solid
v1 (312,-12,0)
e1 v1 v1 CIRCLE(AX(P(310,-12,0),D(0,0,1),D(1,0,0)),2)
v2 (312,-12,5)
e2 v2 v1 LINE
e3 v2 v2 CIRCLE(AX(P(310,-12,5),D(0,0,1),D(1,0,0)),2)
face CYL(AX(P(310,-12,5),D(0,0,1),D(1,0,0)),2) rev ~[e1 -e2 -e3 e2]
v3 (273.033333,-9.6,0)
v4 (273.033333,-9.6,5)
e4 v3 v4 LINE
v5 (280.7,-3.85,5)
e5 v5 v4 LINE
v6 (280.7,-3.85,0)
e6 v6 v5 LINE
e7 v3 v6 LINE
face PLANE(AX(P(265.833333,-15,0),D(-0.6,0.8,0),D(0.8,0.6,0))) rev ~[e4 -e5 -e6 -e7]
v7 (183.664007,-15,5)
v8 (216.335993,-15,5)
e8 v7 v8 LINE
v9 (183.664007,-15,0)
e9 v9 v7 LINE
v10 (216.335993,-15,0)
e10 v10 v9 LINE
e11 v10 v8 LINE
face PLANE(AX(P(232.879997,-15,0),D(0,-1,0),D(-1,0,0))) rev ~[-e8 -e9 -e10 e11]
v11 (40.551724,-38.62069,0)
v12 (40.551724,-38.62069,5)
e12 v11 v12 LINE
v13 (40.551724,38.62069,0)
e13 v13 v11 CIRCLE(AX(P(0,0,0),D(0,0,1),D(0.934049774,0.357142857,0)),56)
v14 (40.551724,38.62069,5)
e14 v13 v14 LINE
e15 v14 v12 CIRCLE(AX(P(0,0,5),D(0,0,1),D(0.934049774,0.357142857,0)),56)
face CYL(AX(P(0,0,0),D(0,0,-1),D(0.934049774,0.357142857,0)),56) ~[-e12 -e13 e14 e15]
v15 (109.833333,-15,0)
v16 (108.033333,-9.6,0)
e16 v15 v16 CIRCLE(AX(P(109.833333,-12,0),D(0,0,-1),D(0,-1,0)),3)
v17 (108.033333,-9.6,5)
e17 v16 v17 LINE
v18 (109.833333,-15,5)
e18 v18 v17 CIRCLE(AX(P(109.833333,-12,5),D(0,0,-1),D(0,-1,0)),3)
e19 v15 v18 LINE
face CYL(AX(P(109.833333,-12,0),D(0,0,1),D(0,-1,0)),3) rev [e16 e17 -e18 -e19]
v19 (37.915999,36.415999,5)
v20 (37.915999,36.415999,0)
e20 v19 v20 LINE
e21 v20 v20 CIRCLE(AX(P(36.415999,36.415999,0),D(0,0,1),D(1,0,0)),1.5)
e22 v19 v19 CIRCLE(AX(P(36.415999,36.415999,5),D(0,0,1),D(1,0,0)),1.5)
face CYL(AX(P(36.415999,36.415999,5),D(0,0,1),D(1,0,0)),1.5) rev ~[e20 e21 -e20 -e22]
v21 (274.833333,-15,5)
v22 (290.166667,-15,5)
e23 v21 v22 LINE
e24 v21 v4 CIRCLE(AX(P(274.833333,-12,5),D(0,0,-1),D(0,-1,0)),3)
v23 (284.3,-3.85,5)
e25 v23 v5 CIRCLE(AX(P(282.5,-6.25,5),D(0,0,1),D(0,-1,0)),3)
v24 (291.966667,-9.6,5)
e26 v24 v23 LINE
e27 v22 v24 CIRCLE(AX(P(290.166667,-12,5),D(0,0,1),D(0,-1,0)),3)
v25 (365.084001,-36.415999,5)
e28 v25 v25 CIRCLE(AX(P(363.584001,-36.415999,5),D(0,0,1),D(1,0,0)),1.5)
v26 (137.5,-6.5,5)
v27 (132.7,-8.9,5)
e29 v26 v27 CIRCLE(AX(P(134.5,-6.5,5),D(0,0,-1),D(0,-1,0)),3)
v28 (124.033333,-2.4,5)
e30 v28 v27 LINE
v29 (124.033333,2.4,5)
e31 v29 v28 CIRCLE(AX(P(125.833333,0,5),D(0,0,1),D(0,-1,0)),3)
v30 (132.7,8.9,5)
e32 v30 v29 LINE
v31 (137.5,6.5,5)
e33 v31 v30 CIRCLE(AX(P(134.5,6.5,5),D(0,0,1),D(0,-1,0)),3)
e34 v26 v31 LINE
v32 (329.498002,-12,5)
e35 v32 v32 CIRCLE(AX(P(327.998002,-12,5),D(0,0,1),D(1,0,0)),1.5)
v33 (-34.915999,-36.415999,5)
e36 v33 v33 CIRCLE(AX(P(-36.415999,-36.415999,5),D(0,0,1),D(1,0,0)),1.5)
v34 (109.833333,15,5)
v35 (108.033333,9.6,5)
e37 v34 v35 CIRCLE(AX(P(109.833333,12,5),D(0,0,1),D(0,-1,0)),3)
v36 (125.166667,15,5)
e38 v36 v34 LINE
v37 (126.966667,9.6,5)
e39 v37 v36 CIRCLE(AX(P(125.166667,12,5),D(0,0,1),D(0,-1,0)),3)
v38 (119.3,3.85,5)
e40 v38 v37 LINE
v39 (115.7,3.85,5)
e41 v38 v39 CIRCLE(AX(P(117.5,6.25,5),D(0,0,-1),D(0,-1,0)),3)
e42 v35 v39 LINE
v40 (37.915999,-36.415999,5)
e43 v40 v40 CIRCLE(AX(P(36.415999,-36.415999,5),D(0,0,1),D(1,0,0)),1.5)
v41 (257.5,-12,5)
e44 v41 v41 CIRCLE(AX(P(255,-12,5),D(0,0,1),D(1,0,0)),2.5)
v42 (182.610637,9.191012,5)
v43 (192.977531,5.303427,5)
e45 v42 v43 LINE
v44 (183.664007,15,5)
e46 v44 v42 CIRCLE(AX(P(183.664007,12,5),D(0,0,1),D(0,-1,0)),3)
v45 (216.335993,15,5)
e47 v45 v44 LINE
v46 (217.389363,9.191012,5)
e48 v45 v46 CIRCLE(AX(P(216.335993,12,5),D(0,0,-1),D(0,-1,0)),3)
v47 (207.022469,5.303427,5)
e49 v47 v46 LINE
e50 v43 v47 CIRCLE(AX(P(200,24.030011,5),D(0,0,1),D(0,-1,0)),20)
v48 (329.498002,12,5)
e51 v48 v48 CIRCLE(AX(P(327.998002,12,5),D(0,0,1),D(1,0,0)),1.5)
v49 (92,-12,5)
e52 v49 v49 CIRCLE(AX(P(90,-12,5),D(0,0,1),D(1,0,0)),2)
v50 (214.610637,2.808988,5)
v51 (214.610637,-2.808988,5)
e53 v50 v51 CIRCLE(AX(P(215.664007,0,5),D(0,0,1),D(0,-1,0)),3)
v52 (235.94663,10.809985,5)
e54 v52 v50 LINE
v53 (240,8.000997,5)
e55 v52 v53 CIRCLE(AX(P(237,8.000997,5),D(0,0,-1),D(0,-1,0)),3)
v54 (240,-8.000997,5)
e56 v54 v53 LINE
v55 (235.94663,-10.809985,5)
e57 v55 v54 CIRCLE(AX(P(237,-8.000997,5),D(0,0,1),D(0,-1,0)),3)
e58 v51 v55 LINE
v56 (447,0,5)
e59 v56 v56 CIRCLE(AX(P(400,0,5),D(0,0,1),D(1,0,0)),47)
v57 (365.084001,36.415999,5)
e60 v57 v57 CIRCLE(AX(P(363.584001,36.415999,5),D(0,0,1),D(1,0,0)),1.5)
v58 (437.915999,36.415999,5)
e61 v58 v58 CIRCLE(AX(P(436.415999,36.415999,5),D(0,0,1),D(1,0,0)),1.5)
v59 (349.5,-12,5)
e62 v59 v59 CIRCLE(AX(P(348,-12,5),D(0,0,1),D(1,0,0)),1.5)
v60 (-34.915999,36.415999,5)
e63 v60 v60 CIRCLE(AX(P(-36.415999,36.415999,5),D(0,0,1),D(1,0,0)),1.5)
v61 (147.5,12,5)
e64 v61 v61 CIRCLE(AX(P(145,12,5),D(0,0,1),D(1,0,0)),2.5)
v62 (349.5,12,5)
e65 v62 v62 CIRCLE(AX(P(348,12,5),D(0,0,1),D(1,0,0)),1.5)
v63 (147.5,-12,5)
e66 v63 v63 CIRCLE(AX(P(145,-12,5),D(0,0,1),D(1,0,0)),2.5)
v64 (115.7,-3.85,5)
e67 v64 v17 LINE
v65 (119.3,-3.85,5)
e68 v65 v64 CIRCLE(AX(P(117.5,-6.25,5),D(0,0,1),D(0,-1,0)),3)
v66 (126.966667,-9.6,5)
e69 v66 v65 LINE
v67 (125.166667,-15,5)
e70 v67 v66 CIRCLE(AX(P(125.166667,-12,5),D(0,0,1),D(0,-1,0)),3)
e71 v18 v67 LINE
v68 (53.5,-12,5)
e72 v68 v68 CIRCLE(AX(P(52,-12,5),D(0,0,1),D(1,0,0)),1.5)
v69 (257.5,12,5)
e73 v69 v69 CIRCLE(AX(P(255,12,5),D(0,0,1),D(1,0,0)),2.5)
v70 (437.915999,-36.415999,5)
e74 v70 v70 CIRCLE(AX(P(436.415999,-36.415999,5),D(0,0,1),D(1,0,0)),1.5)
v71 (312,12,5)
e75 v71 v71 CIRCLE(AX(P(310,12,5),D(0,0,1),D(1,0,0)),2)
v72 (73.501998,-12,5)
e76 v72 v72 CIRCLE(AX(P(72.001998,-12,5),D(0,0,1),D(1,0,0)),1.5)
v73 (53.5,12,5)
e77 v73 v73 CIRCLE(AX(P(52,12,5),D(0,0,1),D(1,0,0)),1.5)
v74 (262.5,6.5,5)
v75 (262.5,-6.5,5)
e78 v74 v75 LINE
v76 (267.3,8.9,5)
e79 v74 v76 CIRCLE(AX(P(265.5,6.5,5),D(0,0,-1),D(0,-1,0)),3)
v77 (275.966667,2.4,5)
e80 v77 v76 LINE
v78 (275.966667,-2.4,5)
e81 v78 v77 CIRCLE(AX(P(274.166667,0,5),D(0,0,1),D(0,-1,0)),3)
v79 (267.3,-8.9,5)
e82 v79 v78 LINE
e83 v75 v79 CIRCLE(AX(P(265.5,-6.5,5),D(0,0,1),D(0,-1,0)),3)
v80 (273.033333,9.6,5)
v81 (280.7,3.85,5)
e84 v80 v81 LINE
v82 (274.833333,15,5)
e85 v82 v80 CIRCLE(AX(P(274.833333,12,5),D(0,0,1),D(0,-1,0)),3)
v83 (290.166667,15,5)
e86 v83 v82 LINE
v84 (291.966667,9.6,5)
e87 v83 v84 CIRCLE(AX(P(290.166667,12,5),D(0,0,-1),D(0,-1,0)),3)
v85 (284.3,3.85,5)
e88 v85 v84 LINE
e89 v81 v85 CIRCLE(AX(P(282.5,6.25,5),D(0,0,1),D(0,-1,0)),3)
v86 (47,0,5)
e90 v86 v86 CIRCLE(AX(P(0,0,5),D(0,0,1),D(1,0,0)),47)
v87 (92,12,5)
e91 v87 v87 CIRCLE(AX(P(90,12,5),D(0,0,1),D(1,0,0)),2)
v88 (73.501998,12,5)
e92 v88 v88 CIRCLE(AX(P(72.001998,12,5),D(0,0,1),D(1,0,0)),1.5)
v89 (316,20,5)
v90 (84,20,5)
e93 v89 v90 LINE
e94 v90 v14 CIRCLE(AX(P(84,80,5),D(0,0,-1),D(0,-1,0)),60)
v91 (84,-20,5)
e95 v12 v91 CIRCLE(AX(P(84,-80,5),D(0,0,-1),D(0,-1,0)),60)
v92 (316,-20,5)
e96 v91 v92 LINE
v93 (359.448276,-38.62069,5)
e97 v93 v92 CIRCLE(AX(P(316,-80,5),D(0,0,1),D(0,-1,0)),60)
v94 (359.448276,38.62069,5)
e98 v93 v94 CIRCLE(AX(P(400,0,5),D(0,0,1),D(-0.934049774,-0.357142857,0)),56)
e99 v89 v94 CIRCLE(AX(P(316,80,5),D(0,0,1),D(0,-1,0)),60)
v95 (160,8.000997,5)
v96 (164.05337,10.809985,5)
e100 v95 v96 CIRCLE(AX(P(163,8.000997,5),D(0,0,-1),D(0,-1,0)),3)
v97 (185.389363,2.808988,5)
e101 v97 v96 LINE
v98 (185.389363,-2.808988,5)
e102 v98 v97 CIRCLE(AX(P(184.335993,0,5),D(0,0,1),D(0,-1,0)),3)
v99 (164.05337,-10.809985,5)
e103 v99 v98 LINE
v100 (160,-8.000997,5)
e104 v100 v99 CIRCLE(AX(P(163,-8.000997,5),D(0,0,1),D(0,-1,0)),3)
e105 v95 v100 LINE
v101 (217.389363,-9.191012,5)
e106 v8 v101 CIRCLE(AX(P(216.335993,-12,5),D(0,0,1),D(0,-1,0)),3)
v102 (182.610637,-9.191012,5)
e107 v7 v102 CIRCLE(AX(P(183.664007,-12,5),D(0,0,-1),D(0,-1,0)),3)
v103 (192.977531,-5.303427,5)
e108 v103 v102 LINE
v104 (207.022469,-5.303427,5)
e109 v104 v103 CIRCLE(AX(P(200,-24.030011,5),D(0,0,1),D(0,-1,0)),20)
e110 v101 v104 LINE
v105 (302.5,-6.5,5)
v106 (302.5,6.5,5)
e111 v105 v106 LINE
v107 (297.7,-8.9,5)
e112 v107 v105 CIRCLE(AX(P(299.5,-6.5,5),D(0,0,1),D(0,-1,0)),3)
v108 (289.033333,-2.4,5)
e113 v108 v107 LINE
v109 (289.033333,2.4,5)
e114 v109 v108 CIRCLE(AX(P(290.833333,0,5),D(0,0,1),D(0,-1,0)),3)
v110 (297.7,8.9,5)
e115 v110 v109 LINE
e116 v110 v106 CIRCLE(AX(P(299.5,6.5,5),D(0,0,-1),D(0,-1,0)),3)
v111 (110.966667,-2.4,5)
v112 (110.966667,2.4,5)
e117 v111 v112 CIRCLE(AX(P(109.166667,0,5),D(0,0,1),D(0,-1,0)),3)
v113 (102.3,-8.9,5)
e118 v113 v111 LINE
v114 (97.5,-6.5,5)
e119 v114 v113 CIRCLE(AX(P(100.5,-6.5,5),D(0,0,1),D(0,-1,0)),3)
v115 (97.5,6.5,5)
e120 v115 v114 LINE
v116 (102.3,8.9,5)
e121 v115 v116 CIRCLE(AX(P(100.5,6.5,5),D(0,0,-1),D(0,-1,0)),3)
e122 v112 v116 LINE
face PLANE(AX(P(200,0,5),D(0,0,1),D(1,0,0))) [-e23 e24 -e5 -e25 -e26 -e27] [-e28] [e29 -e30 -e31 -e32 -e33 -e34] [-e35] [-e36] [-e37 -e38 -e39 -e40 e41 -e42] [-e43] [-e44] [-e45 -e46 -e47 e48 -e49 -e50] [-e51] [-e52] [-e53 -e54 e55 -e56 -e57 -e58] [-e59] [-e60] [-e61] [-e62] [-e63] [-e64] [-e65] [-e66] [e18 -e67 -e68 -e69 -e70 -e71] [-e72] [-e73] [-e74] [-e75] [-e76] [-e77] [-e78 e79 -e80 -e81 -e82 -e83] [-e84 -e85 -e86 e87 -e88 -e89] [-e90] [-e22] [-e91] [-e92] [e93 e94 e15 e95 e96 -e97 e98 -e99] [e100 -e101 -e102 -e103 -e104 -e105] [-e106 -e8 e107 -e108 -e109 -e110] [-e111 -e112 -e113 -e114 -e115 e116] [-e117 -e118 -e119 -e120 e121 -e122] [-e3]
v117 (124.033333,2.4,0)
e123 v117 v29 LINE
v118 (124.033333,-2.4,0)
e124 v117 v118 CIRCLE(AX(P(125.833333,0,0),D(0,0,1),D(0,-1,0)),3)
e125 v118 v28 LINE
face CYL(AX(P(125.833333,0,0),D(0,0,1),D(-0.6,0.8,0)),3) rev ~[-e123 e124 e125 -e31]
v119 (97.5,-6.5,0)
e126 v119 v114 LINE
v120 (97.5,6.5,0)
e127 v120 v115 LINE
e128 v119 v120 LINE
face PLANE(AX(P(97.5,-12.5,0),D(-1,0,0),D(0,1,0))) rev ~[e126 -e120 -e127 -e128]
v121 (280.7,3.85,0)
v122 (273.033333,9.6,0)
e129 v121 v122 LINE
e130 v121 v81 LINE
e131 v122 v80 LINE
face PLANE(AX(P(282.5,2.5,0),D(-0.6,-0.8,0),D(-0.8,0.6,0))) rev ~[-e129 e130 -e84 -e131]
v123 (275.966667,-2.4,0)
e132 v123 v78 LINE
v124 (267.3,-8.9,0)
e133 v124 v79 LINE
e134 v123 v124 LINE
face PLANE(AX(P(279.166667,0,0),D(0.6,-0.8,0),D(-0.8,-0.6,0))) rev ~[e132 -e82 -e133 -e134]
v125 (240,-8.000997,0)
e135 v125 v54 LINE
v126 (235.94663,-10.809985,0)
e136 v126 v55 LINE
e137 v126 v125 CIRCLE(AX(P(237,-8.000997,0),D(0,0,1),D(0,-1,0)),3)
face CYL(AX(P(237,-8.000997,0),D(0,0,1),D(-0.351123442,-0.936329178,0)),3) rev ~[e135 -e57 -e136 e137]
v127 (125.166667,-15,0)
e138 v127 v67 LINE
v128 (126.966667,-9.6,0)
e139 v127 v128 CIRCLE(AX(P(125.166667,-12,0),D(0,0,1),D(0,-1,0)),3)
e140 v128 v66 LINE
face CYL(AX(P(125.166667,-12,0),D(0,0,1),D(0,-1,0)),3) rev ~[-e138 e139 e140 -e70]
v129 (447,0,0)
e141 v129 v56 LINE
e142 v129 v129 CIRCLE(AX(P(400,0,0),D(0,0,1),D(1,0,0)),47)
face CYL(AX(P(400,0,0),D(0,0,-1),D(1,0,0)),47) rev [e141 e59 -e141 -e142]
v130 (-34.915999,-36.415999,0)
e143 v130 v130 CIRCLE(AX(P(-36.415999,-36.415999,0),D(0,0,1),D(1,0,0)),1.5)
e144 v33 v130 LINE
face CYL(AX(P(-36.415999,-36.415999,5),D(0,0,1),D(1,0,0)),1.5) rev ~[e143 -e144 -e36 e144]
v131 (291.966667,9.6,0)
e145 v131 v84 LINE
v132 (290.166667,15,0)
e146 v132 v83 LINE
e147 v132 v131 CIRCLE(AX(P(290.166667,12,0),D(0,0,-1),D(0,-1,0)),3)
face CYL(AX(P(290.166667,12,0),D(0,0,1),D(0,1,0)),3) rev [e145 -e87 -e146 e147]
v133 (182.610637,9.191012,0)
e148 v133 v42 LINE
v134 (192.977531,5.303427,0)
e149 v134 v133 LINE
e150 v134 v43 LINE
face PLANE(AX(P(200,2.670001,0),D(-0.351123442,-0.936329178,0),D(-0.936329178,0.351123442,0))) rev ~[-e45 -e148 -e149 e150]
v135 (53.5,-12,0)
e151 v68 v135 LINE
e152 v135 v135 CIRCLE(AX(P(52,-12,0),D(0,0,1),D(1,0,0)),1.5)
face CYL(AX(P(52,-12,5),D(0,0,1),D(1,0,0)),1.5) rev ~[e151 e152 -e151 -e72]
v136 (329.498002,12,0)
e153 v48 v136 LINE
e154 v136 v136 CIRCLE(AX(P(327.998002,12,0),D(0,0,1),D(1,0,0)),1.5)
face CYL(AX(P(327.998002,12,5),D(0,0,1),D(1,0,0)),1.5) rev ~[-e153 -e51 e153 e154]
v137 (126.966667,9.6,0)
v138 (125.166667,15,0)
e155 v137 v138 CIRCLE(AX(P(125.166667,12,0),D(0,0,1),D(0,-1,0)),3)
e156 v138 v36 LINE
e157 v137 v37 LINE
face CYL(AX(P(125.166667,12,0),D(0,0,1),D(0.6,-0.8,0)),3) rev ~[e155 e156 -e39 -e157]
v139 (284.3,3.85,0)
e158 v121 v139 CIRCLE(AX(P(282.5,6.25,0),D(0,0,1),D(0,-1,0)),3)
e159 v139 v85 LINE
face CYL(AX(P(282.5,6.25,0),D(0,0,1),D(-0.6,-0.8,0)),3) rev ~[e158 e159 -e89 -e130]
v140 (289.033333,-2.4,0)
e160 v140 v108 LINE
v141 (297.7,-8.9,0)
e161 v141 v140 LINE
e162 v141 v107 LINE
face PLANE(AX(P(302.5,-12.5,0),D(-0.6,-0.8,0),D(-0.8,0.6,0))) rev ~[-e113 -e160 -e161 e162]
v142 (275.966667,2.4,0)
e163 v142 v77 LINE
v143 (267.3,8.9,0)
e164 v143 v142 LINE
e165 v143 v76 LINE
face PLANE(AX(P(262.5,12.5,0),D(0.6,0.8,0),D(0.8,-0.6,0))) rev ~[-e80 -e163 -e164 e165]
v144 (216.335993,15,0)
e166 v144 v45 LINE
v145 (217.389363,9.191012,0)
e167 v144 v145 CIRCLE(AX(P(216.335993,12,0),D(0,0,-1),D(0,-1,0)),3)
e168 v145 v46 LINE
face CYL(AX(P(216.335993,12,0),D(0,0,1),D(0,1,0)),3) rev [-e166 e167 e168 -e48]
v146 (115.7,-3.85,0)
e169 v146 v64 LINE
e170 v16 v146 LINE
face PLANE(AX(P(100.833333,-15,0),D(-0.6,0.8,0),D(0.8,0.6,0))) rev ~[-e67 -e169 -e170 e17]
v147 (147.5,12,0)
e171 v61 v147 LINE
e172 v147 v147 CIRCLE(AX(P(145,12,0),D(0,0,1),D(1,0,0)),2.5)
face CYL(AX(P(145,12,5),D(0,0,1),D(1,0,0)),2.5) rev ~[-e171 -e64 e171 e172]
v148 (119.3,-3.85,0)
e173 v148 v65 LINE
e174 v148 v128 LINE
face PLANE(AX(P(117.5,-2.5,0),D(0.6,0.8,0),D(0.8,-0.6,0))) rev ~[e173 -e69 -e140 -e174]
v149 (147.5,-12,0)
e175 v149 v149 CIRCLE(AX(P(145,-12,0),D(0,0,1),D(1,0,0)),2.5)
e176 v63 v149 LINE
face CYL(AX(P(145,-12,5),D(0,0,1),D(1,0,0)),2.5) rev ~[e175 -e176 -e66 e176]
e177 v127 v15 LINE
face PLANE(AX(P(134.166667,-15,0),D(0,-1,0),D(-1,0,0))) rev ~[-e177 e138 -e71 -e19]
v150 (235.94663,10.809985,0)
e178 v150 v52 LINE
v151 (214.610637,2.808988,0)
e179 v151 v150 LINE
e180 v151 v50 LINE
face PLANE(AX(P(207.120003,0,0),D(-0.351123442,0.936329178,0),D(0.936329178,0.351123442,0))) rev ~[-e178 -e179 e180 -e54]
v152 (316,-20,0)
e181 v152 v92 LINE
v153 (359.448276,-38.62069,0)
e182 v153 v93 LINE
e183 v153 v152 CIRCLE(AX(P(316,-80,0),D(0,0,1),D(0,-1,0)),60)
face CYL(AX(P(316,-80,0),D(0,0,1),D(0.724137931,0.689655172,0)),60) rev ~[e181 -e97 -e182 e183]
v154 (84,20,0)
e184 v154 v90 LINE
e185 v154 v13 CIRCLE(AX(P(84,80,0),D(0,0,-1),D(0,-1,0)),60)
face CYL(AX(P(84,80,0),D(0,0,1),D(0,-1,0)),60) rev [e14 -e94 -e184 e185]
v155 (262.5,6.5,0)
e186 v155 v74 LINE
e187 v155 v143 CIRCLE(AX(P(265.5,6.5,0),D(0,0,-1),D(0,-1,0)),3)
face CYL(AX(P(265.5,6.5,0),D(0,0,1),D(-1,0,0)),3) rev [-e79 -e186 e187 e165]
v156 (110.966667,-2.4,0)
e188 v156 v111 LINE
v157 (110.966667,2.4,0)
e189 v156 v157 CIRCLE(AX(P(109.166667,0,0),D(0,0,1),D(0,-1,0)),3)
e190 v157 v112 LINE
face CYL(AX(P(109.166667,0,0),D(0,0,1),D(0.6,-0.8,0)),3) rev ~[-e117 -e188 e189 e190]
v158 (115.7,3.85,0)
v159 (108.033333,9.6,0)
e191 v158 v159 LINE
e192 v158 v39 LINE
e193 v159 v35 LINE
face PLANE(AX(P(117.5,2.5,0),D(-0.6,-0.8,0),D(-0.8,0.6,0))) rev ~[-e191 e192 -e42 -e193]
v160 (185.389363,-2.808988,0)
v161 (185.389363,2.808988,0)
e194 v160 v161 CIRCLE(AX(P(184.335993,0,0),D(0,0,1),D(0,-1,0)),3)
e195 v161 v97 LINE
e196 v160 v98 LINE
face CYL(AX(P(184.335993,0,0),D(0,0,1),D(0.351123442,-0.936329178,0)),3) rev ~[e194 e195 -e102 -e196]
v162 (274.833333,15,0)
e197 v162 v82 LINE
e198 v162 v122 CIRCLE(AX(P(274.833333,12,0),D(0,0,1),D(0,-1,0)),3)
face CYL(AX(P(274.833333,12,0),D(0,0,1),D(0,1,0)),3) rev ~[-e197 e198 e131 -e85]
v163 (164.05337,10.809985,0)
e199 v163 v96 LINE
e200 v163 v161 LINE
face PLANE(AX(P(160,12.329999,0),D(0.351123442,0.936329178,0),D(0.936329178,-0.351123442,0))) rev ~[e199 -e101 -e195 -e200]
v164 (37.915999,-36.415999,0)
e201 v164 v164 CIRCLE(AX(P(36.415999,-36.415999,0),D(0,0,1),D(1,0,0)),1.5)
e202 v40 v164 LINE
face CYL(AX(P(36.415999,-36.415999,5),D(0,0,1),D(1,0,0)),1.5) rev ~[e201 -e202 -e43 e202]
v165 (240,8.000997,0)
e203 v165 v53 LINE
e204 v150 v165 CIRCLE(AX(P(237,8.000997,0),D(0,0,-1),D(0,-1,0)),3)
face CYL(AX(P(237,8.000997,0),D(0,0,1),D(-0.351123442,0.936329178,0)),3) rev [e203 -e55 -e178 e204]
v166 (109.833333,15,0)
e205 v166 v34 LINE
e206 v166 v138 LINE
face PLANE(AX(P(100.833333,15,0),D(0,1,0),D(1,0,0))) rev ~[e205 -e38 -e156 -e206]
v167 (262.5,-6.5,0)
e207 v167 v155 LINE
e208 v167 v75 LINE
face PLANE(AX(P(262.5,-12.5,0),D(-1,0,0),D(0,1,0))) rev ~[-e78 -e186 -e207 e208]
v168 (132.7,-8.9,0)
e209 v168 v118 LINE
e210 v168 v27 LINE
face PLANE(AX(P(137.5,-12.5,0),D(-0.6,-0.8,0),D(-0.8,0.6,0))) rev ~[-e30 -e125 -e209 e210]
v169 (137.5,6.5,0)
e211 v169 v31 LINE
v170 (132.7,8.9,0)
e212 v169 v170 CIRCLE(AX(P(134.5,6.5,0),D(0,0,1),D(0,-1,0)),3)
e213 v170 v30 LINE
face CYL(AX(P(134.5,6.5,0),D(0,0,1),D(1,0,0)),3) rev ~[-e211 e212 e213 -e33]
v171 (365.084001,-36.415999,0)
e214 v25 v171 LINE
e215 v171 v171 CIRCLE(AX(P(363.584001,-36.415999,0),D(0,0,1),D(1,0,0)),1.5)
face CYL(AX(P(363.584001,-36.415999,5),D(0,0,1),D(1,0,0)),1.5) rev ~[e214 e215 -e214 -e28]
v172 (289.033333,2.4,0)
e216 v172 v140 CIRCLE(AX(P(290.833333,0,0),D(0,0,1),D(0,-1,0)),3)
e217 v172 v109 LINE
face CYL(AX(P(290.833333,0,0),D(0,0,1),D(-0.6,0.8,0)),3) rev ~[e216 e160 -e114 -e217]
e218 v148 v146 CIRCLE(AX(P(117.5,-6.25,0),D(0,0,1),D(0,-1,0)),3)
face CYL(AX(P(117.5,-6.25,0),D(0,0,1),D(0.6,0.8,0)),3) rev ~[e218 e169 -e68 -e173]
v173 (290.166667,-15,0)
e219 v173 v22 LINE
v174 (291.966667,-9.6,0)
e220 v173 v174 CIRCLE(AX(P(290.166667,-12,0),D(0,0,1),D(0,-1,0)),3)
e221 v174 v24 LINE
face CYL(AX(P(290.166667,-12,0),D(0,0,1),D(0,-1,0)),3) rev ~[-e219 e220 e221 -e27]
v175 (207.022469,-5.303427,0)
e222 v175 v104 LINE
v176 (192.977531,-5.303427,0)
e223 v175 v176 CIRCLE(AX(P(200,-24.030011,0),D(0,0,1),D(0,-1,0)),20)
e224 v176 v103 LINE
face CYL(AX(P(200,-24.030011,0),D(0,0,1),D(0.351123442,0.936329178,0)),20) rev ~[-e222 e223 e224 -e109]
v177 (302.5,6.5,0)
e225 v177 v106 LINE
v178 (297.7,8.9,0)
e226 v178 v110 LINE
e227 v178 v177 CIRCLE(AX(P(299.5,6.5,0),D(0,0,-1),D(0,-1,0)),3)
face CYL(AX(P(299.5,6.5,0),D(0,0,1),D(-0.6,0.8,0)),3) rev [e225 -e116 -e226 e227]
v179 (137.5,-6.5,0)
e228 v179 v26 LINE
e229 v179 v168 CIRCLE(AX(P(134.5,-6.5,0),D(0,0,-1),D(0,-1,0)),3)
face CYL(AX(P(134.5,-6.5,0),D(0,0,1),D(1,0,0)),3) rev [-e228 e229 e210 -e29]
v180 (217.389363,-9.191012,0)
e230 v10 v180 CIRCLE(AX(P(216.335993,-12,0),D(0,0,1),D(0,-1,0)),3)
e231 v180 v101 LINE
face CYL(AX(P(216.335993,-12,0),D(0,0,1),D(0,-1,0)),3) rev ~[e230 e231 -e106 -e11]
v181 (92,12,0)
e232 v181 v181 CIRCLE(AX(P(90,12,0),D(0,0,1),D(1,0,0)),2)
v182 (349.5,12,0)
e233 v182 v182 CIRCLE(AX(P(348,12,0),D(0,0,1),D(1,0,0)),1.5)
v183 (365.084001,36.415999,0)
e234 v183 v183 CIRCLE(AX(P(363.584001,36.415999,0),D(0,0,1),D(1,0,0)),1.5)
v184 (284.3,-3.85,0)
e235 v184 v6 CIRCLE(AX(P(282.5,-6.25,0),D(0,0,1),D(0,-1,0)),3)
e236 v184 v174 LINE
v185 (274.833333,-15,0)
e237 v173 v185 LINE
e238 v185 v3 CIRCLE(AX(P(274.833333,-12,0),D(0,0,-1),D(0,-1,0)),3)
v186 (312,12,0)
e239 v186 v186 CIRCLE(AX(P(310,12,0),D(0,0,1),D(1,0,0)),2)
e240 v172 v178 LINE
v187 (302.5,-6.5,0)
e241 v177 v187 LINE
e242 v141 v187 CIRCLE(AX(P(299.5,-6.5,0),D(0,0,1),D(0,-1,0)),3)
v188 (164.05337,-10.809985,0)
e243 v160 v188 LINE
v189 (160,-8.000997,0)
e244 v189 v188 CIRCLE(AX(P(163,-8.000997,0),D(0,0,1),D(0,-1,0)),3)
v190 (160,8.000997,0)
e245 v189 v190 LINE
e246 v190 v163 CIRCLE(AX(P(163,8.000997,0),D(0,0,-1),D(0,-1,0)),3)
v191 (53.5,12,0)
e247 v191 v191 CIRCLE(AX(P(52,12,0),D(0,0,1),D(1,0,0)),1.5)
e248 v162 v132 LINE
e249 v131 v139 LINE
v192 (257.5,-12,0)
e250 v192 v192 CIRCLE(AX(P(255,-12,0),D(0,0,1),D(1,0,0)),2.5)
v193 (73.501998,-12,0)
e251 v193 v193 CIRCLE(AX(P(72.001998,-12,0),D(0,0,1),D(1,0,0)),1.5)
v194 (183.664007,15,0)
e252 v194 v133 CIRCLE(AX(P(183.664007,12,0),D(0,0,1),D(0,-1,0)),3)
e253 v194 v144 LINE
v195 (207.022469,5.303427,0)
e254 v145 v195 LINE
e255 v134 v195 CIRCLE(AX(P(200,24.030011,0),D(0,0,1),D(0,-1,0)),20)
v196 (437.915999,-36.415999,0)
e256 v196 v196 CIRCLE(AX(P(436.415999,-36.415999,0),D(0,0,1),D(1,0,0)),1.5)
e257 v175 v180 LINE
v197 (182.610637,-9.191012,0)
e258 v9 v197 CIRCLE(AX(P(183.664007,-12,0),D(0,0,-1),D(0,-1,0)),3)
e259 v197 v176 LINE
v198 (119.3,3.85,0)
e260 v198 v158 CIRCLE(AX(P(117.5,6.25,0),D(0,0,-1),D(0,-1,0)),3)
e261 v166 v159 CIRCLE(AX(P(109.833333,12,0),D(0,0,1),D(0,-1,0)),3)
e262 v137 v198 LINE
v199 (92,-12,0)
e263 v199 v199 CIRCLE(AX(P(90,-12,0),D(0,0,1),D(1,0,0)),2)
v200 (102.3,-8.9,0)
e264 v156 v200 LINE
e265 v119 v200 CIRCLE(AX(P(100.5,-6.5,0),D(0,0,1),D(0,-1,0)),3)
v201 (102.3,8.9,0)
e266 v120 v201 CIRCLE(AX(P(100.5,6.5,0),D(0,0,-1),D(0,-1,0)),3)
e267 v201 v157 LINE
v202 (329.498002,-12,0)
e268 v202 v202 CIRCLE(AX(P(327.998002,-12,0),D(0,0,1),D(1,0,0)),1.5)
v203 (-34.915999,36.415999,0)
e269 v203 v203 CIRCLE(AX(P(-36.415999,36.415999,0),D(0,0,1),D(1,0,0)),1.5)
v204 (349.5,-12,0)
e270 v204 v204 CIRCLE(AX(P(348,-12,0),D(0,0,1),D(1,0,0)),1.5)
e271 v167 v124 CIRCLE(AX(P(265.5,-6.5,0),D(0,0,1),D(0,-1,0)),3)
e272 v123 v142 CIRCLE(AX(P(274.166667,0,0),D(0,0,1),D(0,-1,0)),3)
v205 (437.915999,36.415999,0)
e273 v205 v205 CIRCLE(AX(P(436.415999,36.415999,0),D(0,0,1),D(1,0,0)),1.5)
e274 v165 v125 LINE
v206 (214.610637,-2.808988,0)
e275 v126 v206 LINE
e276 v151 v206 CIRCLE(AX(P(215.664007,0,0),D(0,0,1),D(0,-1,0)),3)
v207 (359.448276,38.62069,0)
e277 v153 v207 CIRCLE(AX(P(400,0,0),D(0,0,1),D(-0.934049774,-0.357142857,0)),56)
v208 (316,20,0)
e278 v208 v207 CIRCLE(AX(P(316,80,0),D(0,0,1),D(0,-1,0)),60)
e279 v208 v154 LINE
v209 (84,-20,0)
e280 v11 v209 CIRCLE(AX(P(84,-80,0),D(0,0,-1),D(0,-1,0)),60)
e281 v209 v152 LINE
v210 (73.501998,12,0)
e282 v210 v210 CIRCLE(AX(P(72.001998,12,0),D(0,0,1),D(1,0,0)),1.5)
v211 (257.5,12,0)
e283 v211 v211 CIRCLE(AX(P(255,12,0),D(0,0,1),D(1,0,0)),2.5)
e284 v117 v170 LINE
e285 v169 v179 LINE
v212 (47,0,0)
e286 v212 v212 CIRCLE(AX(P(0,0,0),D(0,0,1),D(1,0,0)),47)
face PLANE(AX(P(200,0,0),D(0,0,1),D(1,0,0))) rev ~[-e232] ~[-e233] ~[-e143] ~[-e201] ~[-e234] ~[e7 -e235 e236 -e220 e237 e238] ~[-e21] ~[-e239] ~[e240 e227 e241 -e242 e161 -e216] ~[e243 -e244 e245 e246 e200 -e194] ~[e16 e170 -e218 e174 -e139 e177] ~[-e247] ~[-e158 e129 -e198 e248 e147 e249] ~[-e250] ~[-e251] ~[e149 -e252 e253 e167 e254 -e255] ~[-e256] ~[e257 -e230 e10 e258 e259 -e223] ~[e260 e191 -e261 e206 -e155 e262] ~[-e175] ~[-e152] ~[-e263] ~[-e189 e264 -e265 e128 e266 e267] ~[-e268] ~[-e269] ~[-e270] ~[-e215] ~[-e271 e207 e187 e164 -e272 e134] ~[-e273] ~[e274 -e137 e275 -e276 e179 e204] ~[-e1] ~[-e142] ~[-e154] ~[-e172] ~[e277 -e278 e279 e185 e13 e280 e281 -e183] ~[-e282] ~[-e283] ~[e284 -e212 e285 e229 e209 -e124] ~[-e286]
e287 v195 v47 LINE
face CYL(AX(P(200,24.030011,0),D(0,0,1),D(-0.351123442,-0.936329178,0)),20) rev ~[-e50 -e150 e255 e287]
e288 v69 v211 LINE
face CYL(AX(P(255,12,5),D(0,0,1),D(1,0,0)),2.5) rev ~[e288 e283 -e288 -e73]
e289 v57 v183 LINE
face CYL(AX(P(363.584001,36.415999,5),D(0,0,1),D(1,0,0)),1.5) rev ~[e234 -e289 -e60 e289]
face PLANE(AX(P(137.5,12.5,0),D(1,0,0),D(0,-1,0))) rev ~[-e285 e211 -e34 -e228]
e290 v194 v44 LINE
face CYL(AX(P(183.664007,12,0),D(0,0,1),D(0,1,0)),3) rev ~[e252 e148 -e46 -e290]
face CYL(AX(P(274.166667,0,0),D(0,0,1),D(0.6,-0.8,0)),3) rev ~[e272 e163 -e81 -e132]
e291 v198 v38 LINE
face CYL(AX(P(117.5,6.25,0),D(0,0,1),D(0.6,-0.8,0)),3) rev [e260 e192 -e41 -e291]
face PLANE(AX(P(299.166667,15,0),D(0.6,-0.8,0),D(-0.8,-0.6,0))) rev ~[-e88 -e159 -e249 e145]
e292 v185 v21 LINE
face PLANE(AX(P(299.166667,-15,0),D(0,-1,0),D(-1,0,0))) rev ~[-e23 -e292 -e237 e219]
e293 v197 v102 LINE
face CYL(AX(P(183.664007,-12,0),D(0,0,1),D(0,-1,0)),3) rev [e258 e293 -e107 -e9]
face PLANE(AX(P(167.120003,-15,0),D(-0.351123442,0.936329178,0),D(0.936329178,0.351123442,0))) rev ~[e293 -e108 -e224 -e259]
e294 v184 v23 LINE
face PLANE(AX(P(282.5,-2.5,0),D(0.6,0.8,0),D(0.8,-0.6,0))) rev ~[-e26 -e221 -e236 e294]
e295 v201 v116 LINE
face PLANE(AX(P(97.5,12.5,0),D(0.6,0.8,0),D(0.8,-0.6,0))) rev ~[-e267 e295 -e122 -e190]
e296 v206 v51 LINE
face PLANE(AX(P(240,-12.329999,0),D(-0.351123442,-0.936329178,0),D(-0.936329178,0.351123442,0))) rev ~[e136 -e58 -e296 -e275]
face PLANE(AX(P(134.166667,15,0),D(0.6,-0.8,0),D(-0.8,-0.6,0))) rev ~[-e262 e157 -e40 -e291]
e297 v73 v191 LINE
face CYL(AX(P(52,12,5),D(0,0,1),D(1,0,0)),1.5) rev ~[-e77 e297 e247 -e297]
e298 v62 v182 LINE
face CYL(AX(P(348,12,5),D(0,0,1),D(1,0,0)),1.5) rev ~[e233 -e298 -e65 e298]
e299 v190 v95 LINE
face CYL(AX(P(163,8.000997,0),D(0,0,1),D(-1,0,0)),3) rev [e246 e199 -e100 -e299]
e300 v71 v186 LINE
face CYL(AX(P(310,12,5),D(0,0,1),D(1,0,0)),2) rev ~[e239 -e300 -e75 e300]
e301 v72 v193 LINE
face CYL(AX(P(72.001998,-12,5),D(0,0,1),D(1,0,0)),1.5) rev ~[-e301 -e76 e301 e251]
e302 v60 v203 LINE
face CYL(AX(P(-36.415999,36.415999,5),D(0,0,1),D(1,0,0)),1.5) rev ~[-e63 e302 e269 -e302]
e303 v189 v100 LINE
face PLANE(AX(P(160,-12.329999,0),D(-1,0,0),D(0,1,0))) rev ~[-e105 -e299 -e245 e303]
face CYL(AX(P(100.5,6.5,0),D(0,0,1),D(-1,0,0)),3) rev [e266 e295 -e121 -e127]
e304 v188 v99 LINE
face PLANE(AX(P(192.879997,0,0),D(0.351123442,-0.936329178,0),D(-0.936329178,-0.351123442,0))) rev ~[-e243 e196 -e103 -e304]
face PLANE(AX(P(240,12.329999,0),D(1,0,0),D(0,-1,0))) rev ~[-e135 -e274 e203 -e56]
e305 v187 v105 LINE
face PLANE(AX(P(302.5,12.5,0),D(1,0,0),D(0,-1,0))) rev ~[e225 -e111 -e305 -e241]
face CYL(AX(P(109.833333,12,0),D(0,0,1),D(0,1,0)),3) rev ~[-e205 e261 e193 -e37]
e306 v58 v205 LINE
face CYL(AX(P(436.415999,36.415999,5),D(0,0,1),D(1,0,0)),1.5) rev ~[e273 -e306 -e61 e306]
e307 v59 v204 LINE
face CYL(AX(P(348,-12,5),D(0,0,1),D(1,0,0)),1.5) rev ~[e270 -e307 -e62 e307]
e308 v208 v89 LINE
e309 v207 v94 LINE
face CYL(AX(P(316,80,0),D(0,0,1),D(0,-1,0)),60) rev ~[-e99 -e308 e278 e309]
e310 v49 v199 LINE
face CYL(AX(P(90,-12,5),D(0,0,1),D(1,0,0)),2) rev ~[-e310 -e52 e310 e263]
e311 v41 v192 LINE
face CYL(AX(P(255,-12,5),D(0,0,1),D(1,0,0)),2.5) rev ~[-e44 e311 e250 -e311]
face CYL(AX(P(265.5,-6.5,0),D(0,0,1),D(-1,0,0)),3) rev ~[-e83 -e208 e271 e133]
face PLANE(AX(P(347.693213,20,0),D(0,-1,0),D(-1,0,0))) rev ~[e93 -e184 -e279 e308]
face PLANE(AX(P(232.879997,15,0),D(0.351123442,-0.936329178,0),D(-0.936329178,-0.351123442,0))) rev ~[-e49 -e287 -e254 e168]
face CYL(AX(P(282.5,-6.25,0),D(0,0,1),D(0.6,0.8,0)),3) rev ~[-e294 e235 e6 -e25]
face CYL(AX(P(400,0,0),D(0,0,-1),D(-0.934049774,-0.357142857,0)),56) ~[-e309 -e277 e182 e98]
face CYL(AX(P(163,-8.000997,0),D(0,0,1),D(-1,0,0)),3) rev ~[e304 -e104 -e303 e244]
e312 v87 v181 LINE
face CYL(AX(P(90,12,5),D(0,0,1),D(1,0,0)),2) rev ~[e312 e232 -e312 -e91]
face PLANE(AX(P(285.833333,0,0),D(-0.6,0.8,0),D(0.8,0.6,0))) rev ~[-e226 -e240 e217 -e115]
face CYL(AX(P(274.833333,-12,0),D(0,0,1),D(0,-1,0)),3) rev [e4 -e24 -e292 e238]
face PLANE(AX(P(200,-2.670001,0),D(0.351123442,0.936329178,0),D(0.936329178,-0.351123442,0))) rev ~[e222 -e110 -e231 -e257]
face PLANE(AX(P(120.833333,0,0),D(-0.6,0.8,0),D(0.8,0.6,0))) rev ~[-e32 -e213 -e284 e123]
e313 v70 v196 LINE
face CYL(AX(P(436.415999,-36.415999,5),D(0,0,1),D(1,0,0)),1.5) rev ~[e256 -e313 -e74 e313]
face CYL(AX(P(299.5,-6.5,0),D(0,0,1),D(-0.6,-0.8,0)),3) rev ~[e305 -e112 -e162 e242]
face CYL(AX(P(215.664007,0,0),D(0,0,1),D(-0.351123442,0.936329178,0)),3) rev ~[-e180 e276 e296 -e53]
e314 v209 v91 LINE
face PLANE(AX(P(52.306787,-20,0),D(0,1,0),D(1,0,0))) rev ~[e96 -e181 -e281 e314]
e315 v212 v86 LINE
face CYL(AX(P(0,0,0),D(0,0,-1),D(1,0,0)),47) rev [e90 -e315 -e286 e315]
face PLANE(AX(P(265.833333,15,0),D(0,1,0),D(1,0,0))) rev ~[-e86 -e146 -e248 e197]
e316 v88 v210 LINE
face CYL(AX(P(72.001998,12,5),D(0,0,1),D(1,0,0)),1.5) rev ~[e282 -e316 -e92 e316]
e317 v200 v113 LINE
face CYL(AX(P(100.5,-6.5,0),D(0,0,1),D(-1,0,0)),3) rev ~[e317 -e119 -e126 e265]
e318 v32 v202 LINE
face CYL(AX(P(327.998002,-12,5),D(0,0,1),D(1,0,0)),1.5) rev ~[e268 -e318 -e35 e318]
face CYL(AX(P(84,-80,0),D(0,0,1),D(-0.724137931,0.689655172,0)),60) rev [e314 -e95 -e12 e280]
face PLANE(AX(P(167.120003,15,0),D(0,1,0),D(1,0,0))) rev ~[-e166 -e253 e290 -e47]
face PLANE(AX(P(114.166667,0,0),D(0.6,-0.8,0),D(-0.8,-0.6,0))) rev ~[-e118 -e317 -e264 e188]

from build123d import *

# Parameters (mm, degrees)
SKETCH_1_R           = 47
EXTRUDE_1_DEPTH      = 5
FILLET_1_R           = 60
SKETCH_31_R          = 1.5
CUT_EXTRUDE_14_DEPTH = 5
SKETCH_35_R          = 2.5
SKETCH_35_R_2        = 2
CUT_EXTRUDE_17_DEPTH = 10
CUT_EXTRUDE_18_DEPTH = 10
FILLET_2_R           = 3
FILLET_3_R           = 20
CUT_EXTRUDE_19_DEPTH = 10
SKETCH_39_R          = 1.5
CUT_EXTRUDE_20_DEPTH = 10
FILLET_4_R           = 3


with BuildPart() as part:
    # 草图1 → 凸台-拉伸1 (new body)
    with BuildSketch(Plane.XY):
        with BuildLine():
            Line((347.693212678, 20), (52.306787322, 20))
            ThreePointArc((52.306787322, 20), (-56, 0), (52.306787322, -20))
            Line((52.306787322, -20), (347.693212678, -20))
            ThreePointArc((347.693212678, -20), (456, 0), (347.693212678, 20))
        make_face()
        Circle(SKETCH_1_R, mode=Mode.SUBTRACT)
        with Locations((400, 0)):
            Circle(SKETCH_1_R, mode=Mode.SUBTRACT)
    extrude(amount=EXTRUDE_1_DEPTH)

    # 圆角1
    fillet_1_edges = [part.edges().sort_by_distance(p)[0] for p in [
        (347.693212678, -20, 2.5),
        (52.306787322, -20, 2.5),
        (52.306787322, 20, 2.5),
        (347.693212678, 20, 2.5),
    ]]
    fillet(fillet_1_edges, radius=FILLET_1_R)

    # 草图31 → 切除-拉伸14 (cut)
    with BuildSketch(Plane.XY.offset(5)):
        with Locations((36.415999231, 36.415999231)):
            Circle(SKETCH_31_R)
        with Locations((36.415999231, -36.415999231)):
            Circle(SKETCH_31_R)
        with Locations((-36.415999231, -36.415999231)):
            Circle(SKETCH_31_R)
        with Locations((-36.415999231, 36.415999231)):
            Circle(SKETCH_31_R)
        with Locations((436.415999231, 36.415999231)):
            Circle(SKETCH_31_R)
        with Locations((436.415999231, -36.415999231)):
            Circle(SKETCH_31_R)
        with Locations((363.584000769, -36.415999231)):
            Circle(SKETCH_31_R)
        with Locations((363.584000769, 36.415999231)):
            Circle(SKETCH_31_R)
    extrude(amount=-CUT_EXTRUDE_14_DEPTH, mode=Mode.SUBTRACT)

    # 草图35 → 切除-拉伸17 (cut)
    with BuildSketch(Plane.XY.offset(5)):
        with Locations((145, 12)):
            Circle(SKETCH_35_R)
        with Locations((255, 12)):
            Circle(SKETCH_35_R)
        with Locations((145, -12)):
            Circle(SKETCH_35_R)
        with Locations((255, -12)):
            Circle(SKETCH_35_R)
        with Locations((90, -12)):
            Circle(SKETCH_35_R_2)
        with Locations((90, 12)):
            Circle(SKETCH_35_R_2)
        with Locations((310, -12)):
            Circle(SKETCH_35_R_2)
        with Locations((310, 12)):
            Circle(SKETCH_35_R_2)
    extrude(amount=-CUT_EXTRUDE_17_DEPTH, mode=Mode.SUBTRACT)

    # 草图37 → 切除-拉伸18 (cut)
    with BuildSketch(Plane(origin=(0, 0, 0), x_dir=(-1, 0, 0), z_dir=(0, 0, -1))):
        Polygon((-232.879996879, 15), (-200, 2.67000117), (-167.120003121, 15), align=None)
        Polygon((-160, 12.32999883), (-192.879996879, 0), (-160, -12.32999883), align=None)
        Polygon((-167.120003121, -15), (-200, -2.67000117), (-232.879996879, -15), align=None)
        Polygon((-240, 12.32999883), (-240, -12.32999883), (-207.120003121, 0), align=None)
    extrude(amount=-CUT_EXTRUDE_18_DEPTH, mode=Mode.SUBTRACT)

    # 圆角2
    fillet_2_edges = [part.edges().sort_by_distance(p)[0] for p in [
        (167.120003121, -15, 2.5),
        (232.879996879, -15, 2.5),
        (192.879996879, 0, 2.5),
        (160, 12.32999883, 2.5),
        (160, -12.32999883, 2.5),
        (240, 12.32999883, 2.5),
        (207.120003121, 0, 2.5),
        (240, -12.32999883, 2.5),
        (232.879996879, 15, 2.5),
        (167.120003121, 15, 2.5),
    ]]
    fillet(fillet_2_edges, radius=FILLET_2_R)

    # 圆角3
    fillet_3_edges = [part.edges().sort_by_distance(p)[0] for p in [
        (200, -2.67000117, 2.5),
        (200, 2.67000117, 2.5),
    ]]
    fillet(fillet_3_edges, radius=FILLET_3_R)

    # 草图38 → 切除-拉伸19 (cut)
    with BuildSketch(Plane(origin=(0, 0, 0), x_dir=(-1, 0, 0), z_dir=(0, 0, -1))):
        Polygon((-302.5, 12.5), (-302.5, -12.5), (-285.833333333, 0), align=None)
        Polygon((-262.5, 12.5), (-279.166666667, 0), (-262.5, -12.5), align=None)
        Polygon((-265.833333333, -15), (-282.5, -2.5), (-299.166666667, -15), align=None)
        Polygon((-299.166666667, 15), (-282.5, 2.5), (-265.833333333, 15), align=None)
        Polygon((-100.833333333, -15), (-117.5, -2.5), (-134.166666667, -15), align=None)
        Polygon((-97.5, 12.5), (-114.166666667, 0), (-97.5, -12.5), align=None)
        Polygon((-117.5, 2.5), (-100.833333333, 15), (-134.166666667, 15), align=None)
        Polygon((-137.5, -12.5), (-120.833333333, 0), (-137.5, 12.5), align=None)
    extrude(amount=-CUT_EXTRUDE_19_DEPTH, mode=Mode.SUBTRACT)

    # 草图39 → 切除-拉伸20 (cut)
    with BuildSketch(Plane.XY.offset(5)):
        with Locations((72.001998462, -12)):
            Circle(SKETCH_39_R)
        with Locations((52, -12)):
            Circle(SKETCH_39_R)
        with Locations((72.001998462, 12)):
            Circle(SKETCH_39_R)
        with Locations((52, 12)):
            Circle(SKETCH_39_R)
        with Locations((348, 12)):
            Circle(SKETCH_39_R)
        with Locations((327.998001538, 12)):
            Circle(SKETCH_39_R)
        with Locations((327.998001538, -12)):
            Circle(SKETCH_39_R)
        with Locations((348, -12)):
            Circle(SKETCH_39_R)
    extrude(amount=-CUT_EXTRUDE_20_DEPTH, mode=Mode.SUBTRACT)

    # 圆角4
    fillet_4_edges = [part.edges().sort_by_distance(p)[0] for p in [
        (100.833333333, -15, 2.5),
        (134.166666667, -15, 2.5),
        (117.5, -2.5, 2.5),
        (299.166666667, 15, 2.5),
        (265.833333333, 15, 2.5),
        (282.5, 2.5, 2.5),
        (279.166666667, 0, 2.5),
        (262.5, 12.5, 2.5),
        (262.5, -12.5, 2.5),
        (282.5, -2.5, 2.5),
        (265.833333333, -15, 2.5),
        (299.166666667, -15, 2.5),
        (137.5, -12.5, 2.5),
        (137.5, 12.5, 2.5),
        (120.833333333, 0, 2.5),
        (97.5, -12.5, 2.5),
        (114.166666667, 0, 2.5),
        (97.5, 12.5, 2.5),
        (117.5, 2.5, 2.5),
        (134.166666667, 15, 2.5),
        (100.833333333, 15, 2.5),
        (302.5, 12.5, 2.5),
        (285.833333333, 0, 2.5),
        (302.5, -12.5, 2.5),
    ]]
    fillet(fillet_4_edges, radius=FILLET_4_R)


solid = part.part
